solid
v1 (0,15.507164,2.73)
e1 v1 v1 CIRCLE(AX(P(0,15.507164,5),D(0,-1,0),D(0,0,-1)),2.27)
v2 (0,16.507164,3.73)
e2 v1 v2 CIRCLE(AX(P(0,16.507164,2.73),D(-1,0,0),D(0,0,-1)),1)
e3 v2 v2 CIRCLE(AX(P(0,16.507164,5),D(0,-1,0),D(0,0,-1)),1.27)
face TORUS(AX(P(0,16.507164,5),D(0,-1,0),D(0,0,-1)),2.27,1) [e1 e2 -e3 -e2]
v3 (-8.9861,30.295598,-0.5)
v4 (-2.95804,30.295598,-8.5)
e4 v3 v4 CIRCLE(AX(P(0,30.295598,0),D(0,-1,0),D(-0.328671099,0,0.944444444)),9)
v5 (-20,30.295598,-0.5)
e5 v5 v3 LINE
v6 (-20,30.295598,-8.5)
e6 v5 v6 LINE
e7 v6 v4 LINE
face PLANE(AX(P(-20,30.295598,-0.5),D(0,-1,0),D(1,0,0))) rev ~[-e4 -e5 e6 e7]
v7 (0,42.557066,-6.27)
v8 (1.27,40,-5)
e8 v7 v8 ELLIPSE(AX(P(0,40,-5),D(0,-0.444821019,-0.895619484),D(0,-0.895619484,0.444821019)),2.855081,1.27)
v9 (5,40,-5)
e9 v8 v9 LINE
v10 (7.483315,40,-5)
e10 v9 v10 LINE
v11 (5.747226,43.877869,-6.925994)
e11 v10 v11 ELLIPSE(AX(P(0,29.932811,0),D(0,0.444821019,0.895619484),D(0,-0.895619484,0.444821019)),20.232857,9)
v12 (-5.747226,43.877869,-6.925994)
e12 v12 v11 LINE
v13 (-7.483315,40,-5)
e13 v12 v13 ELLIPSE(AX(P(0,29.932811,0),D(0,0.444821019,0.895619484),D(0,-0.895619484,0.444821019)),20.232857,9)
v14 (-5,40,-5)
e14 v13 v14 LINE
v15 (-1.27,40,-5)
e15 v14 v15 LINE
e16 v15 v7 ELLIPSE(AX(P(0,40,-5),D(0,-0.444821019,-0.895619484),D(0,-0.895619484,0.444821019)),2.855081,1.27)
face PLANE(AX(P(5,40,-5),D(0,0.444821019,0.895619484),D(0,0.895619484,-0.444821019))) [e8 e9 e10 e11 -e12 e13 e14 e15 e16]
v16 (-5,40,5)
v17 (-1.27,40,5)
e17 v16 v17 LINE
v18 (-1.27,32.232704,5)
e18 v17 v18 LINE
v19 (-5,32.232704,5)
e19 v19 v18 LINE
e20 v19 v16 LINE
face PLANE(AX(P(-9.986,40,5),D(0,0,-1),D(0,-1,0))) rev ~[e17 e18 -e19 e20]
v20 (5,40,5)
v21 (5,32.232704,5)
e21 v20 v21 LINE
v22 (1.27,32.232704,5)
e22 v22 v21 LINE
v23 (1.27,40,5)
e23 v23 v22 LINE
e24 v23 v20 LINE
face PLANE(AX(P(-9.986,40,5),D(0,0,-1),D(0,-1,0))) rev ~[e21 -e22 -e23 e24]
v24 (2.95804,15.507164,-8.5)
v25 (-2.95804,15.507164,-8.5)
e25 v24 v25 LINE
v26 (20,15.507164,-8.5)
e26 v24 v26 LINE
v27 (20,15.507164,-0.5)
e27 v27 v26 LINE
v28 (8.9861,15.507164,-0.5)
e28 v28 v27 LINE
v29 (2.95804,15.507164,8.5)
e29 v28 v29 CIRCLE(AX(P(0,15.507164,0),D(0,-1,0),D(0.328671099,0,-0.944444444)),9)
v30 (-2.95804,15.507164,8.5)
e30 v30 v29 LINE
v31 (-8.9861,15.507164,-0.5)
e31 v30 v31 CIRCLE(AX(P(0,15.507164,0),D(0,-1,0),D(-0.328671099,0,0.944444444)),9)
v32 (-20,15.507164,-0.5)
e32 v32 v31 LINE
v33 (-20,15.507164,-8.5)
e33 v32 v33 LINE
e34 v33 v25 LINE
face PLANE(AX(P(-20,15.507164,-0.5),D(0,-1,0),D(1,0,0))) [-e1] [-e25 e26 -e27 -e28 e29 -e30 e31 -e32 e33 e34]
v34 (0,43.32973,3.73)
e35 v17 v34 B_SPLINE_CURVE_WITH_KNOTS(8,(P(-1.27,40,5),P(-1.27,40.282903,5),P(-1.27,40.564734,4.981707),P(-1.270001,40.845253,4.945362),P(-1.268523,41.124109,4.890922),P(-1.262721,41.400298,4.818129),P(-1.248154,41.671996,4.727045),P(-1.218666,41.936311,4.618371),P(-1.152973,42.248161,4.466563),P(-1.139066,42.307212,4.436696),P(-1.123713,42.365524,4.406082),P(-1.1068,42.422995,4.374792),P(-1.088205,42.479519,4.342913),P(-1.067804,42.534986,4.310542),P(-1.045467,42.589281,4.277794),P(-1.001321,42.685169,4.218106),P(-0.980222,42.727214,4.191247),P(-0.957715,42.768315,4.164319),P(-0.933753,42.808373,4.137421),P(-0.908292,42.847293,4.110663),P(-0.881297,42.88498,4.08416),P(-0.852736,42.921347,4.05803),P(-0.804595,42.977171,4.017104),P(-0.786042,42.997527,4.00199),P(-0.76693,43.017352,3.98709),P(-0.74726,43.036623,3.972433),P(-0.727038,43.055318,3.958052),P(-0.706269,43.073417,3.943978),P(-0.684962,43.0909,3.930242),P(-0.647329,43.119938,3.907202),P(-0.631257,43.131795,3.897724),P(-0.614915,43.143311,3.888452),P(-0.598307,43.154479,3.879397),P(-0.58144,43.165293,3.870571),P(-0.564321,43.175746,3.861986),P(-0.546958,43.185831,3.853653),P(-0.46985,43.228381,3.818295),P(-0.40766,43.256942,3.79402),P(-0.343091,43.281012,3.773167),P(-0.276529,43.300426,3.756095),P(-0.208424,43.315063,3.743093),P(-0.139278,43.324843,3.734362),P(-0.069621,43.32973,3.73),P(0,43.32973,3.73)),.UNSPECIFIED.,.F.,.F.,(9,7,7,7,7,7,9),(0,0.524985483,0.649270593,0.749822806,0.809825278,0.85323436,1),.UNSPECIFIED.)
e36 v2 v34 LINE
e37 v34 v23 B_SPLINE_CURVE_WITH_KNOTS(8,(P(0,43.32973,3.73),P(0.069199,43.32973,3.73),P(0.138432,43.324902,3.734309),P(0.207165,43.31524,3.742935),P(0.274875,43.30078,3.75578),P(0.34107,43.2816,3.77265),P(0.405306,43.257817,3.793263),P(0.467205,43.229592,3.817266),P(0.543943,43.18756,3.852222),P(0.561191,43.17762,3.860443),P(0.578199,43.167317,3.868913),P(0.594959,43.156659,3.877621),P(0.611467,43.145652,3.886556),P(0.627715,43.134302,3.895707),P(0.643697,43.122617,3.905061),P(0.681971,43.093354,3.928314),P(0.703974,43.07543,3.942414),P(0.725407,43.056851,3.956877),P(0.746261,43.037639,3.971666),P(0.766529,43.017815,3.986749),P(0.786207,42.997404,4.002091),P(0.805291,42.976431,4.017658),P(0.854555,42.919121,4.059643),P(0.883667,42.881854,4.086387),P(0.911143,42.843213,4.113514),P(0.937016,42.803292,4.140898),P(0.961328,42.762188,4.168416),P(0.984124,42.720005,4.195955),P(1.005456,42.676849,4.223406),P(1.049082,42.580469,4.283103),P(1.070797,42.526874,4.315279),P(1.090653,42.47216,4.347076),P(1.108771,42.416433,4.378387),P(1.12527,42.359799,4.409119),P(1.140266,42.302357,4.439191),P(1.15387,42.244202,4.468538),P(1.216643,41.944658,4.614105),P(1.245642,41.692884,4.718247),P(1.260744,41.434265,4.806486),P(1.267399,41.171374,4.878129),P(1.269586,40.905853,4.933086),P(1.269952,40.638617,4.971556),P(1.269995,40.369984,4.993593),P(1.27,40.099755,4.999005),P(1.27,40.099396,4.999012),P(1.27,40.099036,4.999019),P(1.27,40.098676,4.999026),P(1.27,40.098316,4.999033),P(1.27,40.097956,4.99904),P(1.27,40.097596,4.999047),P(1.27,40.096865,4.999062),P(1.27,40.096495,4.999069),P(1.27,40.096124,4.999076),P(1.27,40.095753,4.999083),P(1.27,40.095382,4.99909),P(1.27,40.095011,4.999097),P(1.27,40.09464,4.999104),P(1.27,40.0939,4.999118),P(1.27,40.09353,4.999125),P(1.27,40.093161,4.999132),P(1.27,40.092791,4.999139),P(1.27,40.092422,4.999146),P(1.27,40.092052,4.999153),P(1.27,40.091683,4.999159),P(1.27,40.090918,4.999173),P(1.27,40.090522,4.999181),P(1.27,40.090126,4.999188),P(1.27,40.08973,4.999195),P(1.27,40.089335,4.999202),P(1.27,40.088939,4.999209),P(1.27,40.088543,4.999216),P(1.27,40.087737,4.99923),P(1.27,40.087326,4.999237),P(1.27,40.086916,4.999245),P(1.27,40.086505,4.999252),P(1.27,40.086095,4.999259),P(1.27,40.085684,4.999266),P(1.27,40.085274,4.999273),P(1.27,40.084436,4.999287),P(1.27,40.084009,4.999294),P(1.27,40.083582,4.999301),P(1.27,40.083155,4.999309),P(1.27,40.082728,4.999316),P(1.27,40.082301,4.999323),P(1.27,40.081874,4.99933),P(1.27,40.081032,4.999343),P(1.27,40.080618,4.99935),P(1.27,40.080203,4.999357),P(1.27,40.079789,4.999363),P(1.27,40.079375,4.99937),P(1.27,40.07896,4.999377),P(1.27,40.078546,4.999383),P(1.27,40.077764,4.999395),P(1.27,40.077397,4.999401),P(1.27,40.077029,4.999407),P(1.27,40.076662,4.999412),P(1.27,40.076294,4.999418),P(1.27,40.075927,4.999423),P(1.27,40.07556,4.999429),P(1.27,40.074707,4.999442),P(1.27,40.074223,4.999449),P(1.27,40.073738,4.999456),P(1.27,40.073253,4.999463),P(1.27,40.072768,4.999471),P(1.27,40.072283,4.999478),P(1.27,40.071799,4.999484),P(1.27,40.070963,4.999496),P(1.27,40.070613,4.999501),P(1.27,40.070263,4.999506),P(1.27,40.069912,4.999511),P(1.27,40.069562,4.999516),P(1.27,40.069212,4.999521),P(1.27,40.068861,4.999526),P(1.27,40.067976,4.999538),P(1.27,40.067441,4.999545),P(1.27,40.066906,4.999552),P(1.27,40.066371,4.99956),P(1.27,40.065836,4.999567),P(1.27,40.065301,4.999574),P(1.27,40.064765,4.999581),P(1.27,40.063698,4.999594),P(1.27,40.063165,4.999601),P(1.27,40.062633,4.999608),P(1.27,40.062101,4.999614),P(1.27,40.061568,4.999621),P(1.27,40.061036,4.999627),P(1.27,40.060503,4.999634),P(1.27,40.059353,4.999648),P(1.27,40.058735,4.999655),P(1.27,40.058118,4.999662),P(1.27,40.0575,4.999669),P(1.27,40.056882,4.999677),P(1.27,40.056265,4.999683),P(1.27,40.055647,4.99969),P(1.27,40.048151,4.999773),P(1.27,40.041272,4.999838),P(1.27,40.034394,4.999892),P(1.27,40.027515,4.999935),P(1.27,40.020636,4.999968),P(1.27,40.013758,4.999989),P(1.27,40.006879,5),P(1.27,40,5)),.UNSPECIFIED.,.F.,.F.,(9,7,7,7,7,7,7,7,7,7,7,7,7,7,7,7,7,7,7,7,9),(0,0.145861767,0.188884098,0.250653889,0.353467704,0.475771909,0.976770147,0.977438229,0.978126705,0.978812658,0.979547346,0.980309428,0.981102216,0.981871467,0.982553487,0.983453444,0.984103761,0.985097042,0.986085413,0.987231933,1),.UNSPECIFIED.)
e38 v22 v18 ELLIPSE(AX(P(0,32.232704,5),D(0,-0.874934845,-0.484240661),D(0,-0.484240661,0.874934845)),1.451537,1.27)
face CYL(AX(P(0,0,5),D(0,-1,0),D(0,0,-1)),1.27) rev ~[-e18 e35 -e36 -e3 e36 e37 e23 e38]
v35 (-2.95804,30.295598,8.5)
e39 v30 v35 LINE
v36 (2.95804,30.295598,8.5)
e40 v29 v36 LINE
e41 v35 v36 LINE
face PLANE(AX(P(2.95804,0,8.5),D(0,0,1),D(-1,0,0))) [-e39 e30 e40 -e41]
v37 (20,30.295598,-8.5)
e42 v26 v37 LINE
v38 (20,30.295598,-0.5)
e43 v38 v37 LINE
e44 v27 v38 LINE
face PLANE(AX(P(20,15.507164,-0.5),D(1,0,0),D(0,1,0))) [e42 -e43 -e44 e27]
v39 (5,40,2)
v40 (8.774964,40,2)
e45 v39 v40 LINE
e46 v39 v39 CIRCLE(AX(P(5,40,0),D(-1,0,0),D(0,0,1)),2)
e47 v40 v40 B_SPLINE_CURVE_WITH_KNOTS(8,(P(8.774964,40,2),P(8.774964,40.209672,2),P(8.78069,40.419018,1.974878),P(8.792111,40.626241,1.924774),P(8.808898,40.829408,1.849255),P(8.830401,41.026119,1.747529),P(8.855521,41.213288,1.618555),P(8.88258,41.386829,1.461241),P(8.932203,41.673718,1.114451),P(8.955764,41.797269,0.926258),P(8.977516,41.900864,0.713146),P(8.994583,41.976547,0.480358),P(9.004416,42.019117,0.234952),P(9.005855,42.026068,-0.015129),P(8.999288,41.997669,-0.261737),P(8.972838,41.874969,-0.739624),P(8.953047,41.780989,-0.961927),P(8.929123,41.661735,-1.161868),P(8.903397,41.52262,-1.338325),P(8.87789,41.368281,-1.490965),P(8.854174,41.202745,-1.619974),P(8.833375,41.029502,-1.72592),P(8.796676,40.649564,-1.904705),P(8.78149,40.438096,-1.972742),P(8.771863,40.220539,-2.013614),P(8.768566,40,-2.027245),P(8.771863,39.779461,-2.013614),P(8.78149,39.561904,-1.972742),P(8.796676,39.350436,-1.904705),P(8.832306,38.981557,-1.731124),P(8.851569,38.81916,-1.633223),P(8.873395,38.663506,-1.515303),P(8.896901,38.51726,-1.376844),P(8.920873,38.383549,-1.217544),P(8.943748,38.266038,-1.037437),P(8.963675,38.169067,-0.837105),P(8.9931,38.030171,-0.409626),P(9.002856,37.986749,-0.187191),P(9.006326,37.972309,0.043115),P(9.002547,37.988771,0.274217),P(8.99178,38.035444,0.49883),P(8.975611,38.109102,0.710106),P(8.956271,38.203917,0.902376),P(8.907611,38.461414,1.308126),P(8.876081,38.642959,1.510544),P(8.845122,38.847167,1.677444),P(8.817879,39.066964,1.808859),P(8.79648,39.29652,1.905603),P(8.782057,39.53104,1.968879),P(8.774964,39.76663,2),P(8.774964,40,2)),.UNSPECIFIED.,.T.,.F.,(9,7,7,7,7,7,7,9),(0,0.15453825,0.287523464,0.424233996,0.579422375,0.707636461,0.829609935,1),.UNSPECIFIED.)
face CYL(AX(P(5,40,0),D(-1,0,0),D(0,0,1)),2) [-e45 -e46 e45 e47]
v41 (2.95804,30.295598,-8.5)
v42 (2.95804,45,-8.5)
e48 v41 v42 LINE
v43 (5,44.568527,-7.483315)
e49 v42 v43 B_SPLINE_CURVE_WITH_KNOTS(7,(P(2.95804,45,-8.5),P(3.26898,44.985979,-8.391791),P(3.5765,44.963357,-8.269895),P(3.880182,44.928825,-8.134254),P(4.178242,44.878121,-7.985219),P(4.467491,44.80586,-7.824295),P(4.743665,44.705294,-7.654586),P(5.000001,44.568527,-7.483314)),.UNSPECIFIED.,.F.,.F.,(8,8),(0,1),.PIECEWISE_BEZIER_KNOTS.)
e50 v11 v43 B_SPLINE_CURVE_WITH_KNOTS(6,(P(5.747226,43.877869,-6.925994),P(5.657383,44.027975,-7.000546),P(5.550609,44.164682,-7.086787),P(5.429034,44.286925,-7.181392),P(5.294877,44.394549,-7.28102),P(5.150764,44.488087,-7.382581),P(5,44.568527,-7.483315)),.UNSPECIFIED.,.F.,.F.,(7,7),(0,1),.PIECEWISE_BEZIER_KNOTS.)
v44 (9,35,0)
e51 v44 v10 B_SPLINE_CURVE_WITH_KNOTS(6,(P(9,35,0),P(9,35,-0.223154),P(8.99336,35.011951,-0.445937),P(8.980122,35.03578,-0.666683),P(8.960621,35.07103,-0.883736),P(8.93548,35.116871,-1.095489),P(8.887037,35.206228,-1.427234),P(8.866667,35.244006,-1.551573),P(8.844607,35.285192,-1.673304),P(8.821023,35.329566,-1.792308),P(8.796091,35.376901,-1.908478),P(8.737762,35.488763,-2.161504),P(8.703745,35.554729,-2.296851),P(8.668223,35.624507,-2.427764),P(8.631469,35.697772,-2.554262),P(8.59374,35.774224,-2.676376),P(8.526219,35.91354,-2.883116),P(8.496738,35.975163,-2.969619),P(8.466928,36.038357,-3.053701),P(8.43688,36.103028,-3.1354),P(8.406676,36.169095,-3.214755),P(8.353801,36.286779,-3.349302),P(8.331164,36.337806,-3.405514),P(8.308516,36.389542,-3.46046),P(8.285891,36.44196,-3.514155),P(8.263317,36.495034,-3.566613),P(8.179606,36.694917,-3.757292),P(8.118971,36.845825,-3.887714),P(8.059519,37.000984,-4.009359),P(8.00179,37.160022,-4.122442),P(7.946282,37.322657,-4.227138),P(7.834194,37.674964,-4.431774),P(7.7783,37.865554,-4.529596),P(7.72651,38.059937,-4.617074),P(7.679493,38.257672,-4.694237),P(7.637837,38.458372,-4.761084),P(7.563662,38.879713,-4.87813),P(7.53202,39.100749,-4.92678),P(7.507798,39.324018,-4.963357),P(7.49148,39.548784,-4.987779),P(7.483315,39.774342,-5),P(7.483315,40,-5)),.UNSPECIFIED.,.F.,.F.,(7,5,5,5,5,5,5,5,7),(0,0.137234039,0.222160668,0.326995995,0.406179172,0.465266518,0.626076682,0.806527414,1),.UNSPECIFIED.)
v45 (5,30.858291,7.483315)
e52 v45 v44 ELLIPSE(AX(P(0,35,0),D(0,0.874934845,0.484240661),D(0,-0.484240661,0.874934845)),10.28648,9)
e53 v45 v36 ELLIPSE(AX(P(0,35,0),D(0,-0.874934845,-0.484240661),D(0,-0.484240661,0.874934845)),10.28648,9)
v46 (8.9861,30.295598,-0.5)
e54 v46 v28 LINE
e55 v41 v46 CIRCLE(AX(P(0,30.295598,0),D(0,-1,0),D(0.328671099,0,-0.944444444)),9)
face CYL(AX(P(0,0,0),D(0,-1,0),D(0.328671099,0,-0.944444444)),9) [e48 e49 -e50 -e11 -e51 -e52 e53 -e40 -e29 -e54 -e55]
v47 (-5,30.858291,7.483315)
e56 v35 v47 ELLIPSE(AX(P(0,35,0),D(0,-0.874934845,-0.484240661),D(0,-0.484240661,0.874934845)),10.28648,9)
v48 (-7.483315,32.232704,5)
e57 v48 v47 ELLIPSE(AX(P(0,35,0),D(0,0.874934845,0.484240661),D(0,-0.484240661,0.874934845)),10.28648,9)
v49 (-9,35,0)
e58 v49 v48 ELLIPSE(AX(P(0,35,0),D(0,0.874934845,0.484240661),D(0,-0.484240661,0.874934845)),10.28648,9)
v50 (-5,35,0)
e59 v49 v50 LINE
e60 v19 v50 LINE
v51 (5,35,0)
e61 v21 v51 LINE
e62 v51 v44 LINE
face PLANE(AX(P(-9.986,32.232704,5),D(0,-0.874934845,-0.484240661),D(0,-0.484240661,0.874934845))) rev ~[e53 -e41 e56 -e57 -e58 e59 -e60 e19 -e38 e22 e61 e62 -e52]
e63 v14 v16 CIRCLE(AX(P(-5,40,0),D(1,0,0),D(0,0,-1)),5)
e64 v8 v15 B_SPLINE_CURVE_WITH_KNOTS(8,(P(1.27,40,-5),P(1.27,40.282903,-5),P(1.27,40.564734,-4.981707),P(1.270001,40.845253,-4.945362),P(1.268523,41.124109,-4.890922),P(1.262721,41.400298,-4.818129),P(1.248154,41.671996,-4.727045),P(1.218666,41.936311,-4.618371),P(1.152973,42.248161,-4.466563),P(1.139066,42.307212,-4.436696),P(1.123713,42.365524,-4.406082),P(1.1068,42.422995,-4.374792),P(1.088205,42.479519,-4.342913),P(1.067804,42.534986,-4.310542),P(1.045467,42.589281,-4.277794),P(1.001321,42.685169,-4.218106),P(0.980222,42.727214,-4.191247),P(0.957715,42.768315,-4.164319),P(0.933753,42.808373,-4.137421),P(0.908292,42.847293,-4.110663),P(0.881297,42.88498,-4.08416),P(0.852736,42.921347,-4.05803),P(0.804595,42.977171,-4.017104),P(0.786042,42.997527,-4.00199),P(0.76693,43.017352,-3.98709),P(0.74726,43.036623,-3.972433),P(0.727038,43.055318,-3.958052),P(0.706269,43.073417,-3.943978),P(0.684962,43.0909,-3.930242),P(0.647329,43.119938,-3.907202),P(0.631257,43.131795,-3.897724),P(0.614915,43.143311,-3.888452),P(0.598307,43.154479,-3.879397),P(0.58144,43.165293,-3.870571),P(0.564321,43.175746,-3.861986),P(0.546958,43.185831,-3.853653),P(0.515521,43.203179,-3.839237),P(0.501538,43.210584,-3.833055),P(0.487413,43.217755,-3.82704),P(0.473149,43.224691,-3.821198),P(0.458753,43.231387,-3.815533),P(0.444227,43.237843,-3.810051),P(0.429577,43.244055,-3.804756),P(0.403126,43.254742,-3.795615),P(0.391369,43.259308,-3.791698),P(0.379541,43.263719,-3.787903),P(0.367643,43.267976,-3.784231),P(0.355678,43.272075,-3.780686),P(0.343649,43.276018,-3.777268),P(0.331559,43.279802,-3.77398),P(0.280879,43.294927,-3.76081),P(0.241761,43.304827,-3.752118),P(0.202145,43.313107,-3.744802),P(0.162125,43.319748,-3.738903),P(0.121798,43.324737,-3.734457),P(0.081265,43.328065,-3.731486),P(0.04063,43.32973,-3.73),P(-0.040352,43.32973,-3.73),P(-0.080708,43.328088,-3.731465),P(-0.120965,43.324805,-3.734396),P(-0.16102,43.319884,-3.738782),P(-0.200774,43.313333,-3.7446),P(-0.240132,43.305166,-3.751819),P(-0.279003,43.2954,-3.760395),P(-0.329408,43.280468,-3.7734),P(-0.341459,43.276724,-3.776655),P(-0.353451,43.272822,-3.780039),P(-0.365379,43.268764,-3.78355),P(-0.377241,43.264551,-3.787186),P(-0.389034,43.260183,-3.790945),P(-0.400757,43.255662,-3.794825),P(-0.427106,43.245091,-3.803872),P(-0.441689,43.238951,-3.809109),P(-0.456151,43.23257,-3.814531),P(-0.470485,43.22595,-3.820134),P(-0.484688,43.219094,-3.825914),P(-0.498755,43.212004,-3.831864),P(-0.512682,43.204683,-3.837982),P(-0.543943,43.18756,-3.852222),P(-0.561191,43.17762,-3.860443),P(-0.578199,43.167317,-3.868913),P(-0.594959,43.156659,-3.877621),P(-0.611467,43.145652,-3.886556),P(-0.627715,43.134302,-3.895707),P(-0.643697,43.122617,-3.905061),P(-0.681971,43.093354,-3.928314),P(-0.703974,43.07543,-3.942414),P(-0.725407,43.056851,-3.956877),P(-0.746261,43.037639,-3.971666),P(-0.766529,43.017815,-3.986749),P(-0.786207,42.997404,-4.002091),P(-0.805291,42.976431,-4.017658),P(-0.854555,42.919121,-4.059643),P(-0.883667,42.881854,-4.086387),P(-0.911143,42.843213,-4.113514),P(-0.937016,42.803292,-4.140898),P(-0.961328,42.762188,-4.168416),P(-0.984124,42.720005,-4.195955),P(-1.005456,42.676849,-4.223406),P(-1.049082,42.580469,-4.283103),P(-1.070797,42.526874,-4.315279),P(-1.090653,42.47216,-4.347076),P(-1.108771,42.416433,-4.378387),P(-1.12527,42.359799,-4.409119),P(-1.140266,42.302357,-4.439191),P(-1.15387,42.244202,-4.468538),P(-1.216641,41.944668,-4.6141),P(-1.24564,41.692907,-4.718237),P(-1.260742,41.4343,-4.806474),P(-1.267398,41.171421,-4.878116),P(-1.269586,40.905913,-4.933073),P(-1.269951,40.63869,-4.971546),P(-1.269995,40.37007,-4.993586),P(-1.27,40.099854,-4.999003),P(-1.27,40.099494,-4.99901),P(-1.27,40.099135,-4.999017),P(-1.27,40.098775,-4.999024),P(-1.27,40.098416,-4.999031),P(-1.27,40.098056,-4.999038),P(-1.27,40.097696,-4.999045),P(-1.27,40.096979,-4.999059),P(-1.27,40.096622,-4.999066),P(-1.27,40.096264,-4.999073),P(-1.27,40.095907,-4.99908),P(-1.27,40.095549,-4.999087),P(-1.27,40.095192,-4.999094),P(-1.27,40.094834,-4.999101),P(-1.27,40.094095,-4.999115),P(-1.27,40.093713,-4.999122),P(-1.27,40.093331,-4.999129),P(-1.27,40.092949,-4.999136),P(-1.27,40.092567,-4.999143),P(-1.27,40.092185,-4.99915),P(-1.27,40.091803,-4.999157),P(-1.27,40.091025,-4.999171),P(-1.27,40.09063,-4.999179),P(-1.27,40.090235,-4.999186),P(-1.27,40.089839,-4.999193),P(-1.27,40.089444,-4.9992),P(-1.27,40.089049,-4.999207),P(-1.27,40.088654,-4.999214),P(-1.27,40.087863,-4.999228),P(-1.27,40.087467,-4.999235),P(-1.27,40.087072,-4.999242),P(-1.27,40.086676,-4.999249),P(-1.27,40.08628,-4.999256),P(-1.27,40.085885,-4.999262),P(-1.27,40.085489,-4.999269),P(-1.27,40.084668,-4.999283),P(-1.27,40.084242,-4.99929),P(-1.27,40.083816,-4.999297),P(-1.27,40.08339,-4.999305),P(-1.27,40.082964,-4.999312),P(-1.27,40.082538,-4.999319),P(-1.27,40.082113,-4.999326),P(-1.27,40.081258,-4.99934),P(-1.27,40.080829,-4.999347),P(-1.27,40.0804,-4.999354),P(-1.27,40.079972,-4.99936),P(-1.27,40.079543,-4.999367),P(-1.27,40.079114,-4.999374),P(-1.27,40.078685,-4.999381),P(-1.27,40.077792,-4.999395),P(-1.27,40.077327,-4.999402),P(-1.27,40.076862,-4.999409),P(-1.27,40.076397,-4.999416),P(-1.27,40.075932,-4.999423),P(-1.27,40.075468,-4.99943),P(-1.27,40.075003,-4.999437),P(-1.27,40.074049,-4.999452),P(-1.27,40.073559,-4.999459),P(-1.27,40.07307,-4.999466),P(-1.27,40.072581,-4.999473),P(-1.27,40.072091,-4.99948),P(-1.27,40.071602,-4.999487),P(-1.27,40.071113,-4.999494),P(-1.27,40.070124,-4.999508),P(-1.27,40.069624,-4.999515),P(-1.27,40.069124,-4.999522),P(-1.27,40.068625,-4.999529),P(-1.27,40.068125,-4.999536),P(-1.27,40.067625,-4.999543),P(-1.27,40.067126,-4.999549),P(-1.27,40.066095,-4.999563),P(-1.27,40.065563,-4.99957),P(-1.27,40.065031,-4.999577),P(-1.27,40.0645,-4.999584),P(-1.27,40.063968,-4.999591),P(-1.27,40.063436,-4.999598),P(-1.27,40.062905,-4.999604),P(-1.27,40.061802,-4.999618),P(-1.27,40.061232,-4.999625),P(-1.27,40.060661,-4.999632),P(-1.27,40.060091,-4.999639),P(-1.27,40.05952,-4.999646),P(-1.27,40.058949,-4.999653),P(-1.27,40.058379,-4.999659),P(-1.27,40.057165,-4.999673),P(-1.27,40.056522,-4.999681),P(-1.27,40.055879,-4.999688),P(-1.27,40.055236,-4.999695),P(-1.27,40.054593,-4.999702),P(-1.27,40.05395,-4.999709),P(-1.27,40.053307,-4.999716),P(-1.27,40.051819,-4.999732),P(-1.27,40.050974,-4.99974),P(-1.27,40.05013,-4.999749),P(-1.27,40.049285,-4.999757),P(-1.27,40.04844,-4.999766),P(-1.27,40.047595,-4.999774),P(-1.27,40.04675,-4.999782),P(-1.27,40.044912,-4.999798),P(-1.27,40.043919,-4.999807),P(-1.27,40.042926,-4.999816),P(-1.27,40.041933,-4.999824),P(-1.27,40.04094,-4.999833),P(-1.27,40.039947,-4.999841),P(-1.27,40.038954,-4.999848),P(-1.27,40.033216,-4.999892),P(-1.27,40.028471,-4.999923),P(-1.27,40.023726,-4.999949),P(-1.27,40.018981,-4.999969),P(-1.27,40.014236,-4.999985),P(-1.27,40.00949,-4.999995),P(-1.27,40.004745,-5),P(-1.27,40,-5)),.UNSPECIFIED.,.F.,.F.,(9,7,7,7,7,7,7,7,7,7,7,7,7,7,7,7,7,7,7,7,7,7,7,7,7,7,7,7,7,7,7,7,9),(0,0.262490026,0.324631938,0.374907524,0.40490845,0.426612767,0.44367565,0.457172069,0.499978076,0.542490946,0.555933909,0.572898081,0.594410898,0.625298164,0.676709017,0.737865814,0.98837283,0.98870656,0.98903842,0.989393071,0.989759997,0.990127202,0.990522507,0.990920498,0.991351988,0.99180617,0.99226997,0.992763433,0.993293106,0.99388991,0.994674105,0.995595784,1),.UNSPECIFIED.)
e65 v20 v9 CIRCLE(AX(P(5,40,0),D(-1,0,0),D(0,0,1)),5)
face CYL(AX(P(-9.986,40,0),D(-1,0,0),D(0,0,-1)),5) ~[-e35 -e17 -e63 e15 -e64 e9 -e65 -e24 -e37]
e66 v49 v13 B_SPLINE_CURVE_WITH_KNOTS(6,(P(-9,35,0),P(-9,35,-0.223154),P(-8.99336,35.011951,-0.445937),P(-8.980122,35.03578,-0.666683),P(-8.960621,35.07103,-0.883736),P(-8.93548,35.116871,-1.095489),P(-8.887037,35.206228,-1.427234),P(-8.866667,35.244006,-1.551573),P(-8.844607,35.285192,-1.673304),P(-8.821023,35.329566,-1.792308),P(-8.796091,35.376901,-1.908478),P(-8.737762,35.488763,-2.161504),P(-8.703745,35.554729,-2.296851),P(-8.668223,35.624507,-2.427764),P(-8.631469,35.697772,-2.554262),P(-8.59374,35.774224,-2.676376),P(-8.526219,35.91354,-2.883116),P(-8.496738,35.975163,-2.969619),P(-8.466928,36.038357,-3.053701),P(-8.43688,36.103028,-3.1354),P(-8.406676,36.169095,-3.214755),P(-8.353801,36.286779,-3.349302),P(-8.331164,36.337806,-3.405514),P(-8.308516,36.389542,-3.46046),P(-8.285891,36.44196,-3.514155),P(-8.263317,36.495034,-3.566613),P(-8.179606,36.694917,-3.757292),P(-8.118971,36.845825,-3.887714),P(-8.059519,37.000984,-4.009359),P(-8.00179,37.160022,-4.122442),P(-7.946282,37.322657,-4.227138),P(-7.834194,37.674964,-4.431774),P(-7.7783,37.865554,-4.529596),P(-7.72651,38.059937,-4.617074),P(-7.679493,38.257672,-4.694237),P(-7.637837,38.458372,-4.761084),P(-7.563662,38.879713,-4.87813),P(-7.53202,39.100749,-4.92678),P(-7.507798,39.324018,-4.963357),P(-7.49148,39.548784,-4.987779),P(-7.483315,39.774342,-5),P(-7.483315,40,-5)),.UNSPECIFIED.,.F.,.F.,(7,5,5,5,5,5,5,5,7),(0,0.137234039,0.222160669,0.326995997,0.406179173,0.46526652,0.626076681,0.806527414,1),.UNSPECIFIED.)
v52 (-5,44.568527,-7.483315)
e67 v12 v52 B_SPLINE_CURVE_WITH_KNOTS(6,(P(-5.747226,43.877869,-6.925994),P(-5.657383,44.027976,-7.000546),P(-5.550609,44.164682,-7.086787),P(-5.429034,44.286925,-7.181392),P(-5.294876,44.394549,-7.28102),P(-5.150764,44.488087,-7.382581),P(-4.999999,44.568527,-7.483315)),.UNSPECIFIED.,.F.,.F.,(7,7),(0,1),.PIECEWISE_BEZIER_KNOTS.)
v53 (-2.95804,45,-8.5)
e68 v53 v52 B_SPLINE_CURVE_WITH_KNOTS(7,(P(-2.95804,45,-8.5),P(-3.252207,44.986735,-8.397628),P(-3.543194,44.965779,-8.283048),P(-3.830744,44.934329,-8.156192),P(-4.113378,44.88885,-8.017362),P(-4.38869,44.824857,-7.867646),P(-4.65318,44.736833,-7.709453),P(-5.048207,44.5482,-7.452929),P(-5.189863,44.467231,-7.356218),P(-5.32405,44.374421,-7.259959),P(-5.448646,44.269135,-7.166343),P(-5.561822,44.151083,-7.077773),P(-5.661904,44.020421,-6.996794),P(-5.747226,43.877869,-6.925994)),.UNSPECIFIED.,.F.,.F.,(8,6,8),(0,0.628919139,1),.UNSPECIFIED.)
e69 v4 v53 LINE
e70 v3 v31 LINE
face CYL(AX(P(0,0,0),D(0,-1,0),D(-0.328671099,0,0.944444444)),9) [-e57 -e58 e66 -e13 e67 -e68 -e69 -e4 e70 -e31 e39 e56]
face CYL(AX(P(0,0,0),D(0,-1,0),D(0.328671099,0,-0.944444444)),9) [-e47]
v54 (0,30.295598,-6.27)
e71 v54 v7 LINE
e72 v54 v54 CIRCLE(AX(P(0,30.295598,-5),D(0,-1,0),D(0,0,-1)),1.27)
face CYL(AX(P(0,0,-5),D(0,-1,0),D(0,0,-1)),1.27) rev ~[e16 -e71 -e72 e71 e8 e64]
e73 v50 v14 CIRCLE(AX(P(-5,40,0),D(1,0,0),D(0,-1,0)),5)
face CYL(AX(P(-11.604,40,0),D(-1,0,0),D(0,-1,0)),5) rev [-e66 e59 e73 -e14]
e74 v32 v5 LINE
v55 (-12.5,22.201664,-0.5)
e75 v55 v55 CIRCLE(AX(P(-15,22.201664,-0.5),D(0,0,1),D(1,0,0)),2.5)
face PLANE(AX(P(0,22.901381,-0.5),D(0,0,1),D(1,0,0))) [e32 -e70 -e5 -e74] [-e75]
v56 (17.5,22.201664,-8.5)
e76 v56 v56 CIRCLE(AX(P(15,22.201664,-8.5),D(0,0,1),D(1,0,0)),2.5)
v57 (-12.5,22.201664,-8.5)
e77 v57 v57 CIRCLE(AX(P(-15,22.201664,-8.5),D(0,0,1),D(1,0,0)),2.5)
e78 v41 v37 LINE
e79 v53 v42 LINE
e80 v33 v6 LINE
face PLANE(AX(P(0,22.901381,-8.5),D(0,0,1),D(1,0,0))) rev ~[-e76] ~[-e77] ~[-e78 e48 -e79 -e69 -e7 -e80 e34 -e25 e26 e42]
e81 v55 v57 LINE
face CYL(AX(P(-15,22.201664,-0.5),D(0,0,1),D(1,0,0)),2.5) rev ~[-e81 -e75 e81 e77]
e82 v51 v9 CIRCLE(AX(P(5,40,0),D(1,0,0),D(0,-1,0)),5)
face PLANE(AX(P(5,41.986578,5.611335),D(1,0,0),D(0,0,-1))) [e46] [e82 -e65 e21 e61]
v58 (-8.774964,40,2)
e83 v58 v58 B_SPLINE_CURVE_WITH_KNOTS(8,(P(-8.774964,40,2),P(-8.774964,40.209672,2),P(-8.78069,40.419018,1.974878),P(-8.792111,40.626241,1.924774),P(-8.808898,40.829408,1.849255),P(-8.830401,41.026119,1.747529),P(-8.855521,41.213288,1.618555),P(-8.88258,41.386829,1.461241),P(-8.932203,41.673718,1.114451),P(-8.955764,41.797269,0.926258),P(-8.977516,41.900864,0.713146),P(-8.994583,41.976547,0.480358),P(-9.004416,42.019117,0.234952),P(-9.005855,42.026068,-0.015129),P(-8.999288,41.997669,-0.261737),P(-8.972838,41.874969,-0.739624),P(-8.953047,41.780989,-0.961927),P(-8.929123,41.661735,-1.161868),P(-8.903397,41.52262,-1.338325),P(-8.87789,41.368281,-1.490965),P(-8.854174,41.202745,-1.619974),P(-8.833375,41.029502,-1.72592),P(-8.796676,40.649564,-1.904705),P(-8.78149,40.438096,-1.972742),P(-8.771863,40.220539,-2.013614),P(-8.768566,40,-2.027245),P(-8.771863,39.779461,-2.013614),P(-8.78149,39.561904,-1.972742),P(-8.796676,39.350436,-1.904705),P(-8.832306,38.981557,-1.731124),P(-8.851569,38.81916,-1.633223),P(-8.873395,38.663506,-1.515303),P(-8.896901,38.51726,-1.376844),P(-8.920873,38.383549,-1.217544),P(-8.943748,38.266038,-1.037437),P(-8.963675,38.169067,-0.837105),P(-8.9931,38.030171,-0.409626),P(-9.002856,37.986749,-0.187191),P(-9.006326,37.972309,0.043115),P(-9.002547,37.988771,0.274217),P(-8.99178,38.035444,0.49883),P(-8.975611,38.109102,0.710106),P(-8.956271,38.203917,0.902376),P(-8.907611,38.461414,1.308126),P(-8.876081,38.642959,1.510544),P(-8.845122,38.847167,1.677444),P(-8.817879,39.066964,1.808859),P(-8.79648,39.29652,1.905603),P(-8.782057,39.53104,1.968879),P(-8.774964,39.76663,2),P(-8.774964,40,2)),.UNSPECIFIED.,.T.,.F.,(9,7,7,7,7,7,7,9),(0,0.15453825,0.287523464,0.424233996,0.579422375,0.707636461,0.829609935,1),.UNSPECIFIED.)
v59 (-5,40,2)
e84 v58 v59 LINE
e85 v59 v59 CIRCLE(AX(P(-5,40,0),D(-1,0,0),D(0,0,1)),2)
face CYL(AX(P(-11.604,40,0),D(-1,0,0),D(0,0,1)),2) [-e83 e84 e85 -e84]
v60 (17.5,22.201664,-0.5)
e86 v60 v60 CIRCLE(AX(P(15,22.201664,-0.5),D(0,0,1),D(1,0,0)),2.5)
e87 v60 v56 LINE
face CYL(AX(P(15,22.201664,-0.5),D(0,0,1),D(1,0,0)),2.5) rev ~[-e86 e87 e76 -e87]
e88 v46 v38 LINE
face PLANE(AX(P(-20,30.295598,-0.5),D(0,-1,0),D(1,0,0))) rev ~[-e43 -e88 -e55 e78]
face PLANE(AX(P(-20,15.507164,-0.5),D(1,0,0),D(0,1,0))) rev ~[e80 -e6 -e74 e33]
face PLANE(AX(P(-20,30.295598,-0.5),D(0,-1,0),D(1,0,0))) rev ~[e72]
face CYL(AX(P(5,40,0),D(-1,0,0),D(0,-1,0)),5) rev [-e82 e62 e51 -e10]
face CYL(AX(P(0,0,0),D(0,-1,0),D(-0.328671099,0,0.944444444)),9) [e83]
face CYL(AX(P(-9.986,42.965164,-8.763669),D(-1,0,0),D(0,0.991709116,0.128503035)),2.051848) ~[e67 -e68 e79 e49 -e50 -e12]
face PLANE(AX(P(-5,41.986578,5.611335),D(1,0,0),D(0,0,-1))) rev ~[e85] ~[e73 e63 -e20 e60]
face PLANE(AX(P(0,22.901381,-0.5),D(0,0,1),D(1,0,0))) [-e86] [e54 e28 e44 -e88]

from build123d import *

# Parameters (mm, degrees)
BOSS_EXTRUDE1_DEPTH = 45
SKETCH2_R           = 1.27
CUT_EXTRUDE1_DEPTH  = 51.256
CUT_EXTRUDE2_REACH  = 50.939
SKETCH3_W           = 10
SKETCH3_H           = 10
SKETCH4_R           = 2.049999964
CUT_EXTRUDE3_DEPTH  = 17.5
CUT_EXTRUDE5_START  = -7.95804
SKETCH6_R           = 2
CUT_EXTRUDE5_DEPTH  = 9.6
FILLET3_R           = 1
CUT_EXTRUDE6_START  = 8.64596
SKETCH6_3_R         = 2
CUT_EXTRUDE6_DEPTH  = 6.604
CUT_EXTRUDE7_START  = -14.986
CUT_EXTRUDE7_DEPTH  = 14.986
SKETCH9_W           = 75.785705501
SKETCH9_H           = 55.117400044
CUT_EXTRUDE9_DEPTH  = 51.308
FILLET4_R           = 1
BOSS_EXTRUDE2_START = -9
SKETCH11_W          = 40
SKETCH11_H          = 14.788433541
SKETCH11_R          = 2.5
BOSS_EXTRUDE2_DEPTH = 8


with BuildPart() as part:
    # Sketch1 → Boss-Extrude1 (new body)
    with BuildSketch(Plane(origin=(0, 0, 0), x_dir=(1, 0, 0), z_dir=(0, 1, 0))):
        with BuildLine():
            Line((-2.958039892, 8.5), (2.958039892, 8.5))
            ThreePointArc((2.958039892, 8.5), (9, 0), (2.958039892, -8.5))
            Line((2.958039892, -8.5), (-2.958039892, -8.5))
            ThreePointArc((-2.958039892, -8.5), (-9, 0), (-2.958039892, 8.5))
        make_face()
    extrude(amount=BOSS_EXTRUDE1_DEPTH)

    # Sketch2 → Cut-Extrude1 (cut)
    with BuildSketch(Plane.XZ):
        with Locations(Location((0, -5, 0), (0, 0, 270))):
            Circle(SKETCH2_R)
        with Locations(Location((0, 5, 0), (0, 0, 270))):
            Circle(SKETCH2_R)
    extrude(amount=-CUT_EXTRUDE1_DEPTH, mode=Mode.SUBTRACT)

    # Cut-Extrude2: up to this face of the body (flat: up to its plane)
    cut_extrude2_end = Plane(part.part.faces().sort_by_distance((0, 22.5, 8.5))[0])
    # Sketch3 → Cut-Extrude2 (cut, up to the picked face)
    with BuildSketch(Plane(origin=(0, 0, -8.5), x_dir=(-1, 0, 0), z_dir=(0, 0, -1)), mode=Mode.PRIVATE) as cut_extrude2_sk1:
        with Locations((0, 5)):
            Rectangle(SKETCH3_W, SKETCH3_H)
    cut_extrude2_tool1 = split(extrude(cut_extrude2_sk1.sketch, amount=-CUT_EXTRUDE2_REACH, mode=Mode.PRIVATE), bisect_by=cut_extrude2_end, keep=Keep.BOTH, mode=Mode.PRIVATE)
    add(cut_extrude2_tool1.solids().sort_by(Axis((0, 5, -8.5), (0, 0, 1)))[0], mode=Mode.SUBTRACT)

    # Sketch4 → Cut-Extrude3 (cut, symmetric)
    with BuildSketch(Plane.ZY.offset(-5)):
        with Locations(Location((0, 5, 0), (0, 0, 270))):
            Circle(SKETCH4_R)
        with BuildLine():
            Line((-7.483314774, 10), (-5, 5))
            ThreePointArc((-5, 5), (0, 0), (5, 5))
            Line((5, 5), (8.5, 12.308552788))
            Line((8.5, 12.308552788), (9.857943437, -1.822240199))
            Line((9.857943437, -1.822240199), (-9.857943437, -1.822240199))
            Line((-9.857943437, -1.822240199), (-7.483314774, 10))
        make_face()
    extrude(amount=CUT_EXTRUDE3_DEPTH, both=True, mode=Mode.SUBTRACT)

    # Sketch6 → Cut-Extrude5 (cut)
    with BuildSketch(Plane.ZY.offset(2.958039892).offset(CUT_EXTRUDE5_START)):
        with BuildLine():
            Line((8.5, 30.295597565), (0, 35))
            ThreePointArc((0, 35), (-3.535533906, 36.464466094), (-5, 40))
            Line((-5, 40), (-6.925993812, 43.877868872))
            ThreePointArc((-6.925993812, 43.877868872), (-7.572574331, 44.635904287), (-8.5, 45))
            Line((-8.5, 45), (18.346383487, 50.62633631))
            Line((18.346383487, 50.62633631), (8.5, 30.295597565))
        make_face()
        with Locations((0, 40)):
            Circle(SKETCH6_R, mode=Mode.SUBTRACT)
    extrude(amount=-CUT_EXTRUDE5_DEPTH, mode=Mode.SUBTRACT)

    # Fillet3
    fillet3_edges = [part.edges().sort_by_distance(p)[0] for p in [
        (0, 10, -3.73),
        (0, 10, 6.27),
    ]]
    fillet(fillet3_edges, radius=FILLET3_R)

    # Sketch6<3> → Cut-Extrude6 (cut)
    with BuildSketch(Plane.ZY.offset(2.958039892).offset(CUT_EXTRUDE6_START)):
        with BuildLine():
            Line((8.5, 30.295597565), (0, 35))
            ThreePointArc((0, 35), (-3.535533906, 36.464466094), (-5, 40))
            Line((-5, 40), (-6.925993812, 43.877868872))
            ThreePointArc((-6.925993812, 43.877868872), (-7.572574331, 44.635904287), (-8.5, 45))
            Line((-8.5, 45), (18.346383487, 50.62633631))
            Line((18.346383487, 50.62633631), (8.5, 30.295597565))
        make_face()
        with Locations((0, 40)):
            Circle(SKETCH6_3_R, mode=Mode.SUBTRACT)
    extrude(amount=-CUT_EXTRUDE6_DEPTH, mode=Mode.SUBTRACT)

    # Sketch7 → Cut-Extrude7 (cut)
    with BuildSketch(Plane(origin=(5, 0, 0), x_dir=(0, 0, -1), z_dir=(1, 0, 0)).offset(CUT_EXTRUDE7_START)):
        with BuildLine():
            Line((-5, 40), (-5, 32.23270445))
            Line((-5, 32.23270445), (-8.5, 30.295597565))
            Line((-8.5, 30.295597565), (-10.643597919, 58.76944937))
            Line((-10.643597919, 58.76944937), (18.960626954, 55.630212042))
            Line((18.960626954, 55.630212042), (8.5, 45))
            ThreePointArc((8.5, 45), (7.572574331, 44.635904287), (6.925993812, 43.877868872))
            Line((6.925993812, 43.877868872), (5, 40))
            ThreePointArc((5, 40), (0, 45), (-5, 40))
        make_face()
    extrude(amount=CUT_EXTRUDE7_DEPTH, mode=Mode.SUBTRACT)

    # Sketch9 → Cut-Extrude9 (cut)
    with BuildSketch(Plane.XY.offset(8.5)):
        with Locations((-12.772136987, -12.051535998)):
            Rectangle(SKETCH9_W, SKETCH9_H)
    extrude(amount=-CUT_EXTRUDE9_DEPTH, mode=Mode.SUBTRACT)

    # Fillet4
    fillet4_edges = [part.edges().sort_by_distance(p)[0] for p in [
        (0, 15.507164024, -3.73),
        (0, 15.507164024, 6.27),
    ]]
    fillet(fillet4_edges, radius=FILLET4_R)

    # Sketch11 → Boss-Extrude2 (add)
    with BuildSketch(Plane.XY.offset(8.5).offset(BOSS_EXTRUDE2_START)):
        with Locations((0, 22.901380794)):
            Rectangle(SKETCH11_W, SKETCH11_H)
        with Locations((15, 22.201664168)):
            Circle(SKETCH11_R, mode=Mode.SUBTRACT)
        with Locations((-15, 22.201664168)):
            Circle(SKETCH11_R, mode=Mode.SUBTRACT)
    extrude(amount=-BOSS_EXTRUDE2_DEPTH)


solid = part.part
